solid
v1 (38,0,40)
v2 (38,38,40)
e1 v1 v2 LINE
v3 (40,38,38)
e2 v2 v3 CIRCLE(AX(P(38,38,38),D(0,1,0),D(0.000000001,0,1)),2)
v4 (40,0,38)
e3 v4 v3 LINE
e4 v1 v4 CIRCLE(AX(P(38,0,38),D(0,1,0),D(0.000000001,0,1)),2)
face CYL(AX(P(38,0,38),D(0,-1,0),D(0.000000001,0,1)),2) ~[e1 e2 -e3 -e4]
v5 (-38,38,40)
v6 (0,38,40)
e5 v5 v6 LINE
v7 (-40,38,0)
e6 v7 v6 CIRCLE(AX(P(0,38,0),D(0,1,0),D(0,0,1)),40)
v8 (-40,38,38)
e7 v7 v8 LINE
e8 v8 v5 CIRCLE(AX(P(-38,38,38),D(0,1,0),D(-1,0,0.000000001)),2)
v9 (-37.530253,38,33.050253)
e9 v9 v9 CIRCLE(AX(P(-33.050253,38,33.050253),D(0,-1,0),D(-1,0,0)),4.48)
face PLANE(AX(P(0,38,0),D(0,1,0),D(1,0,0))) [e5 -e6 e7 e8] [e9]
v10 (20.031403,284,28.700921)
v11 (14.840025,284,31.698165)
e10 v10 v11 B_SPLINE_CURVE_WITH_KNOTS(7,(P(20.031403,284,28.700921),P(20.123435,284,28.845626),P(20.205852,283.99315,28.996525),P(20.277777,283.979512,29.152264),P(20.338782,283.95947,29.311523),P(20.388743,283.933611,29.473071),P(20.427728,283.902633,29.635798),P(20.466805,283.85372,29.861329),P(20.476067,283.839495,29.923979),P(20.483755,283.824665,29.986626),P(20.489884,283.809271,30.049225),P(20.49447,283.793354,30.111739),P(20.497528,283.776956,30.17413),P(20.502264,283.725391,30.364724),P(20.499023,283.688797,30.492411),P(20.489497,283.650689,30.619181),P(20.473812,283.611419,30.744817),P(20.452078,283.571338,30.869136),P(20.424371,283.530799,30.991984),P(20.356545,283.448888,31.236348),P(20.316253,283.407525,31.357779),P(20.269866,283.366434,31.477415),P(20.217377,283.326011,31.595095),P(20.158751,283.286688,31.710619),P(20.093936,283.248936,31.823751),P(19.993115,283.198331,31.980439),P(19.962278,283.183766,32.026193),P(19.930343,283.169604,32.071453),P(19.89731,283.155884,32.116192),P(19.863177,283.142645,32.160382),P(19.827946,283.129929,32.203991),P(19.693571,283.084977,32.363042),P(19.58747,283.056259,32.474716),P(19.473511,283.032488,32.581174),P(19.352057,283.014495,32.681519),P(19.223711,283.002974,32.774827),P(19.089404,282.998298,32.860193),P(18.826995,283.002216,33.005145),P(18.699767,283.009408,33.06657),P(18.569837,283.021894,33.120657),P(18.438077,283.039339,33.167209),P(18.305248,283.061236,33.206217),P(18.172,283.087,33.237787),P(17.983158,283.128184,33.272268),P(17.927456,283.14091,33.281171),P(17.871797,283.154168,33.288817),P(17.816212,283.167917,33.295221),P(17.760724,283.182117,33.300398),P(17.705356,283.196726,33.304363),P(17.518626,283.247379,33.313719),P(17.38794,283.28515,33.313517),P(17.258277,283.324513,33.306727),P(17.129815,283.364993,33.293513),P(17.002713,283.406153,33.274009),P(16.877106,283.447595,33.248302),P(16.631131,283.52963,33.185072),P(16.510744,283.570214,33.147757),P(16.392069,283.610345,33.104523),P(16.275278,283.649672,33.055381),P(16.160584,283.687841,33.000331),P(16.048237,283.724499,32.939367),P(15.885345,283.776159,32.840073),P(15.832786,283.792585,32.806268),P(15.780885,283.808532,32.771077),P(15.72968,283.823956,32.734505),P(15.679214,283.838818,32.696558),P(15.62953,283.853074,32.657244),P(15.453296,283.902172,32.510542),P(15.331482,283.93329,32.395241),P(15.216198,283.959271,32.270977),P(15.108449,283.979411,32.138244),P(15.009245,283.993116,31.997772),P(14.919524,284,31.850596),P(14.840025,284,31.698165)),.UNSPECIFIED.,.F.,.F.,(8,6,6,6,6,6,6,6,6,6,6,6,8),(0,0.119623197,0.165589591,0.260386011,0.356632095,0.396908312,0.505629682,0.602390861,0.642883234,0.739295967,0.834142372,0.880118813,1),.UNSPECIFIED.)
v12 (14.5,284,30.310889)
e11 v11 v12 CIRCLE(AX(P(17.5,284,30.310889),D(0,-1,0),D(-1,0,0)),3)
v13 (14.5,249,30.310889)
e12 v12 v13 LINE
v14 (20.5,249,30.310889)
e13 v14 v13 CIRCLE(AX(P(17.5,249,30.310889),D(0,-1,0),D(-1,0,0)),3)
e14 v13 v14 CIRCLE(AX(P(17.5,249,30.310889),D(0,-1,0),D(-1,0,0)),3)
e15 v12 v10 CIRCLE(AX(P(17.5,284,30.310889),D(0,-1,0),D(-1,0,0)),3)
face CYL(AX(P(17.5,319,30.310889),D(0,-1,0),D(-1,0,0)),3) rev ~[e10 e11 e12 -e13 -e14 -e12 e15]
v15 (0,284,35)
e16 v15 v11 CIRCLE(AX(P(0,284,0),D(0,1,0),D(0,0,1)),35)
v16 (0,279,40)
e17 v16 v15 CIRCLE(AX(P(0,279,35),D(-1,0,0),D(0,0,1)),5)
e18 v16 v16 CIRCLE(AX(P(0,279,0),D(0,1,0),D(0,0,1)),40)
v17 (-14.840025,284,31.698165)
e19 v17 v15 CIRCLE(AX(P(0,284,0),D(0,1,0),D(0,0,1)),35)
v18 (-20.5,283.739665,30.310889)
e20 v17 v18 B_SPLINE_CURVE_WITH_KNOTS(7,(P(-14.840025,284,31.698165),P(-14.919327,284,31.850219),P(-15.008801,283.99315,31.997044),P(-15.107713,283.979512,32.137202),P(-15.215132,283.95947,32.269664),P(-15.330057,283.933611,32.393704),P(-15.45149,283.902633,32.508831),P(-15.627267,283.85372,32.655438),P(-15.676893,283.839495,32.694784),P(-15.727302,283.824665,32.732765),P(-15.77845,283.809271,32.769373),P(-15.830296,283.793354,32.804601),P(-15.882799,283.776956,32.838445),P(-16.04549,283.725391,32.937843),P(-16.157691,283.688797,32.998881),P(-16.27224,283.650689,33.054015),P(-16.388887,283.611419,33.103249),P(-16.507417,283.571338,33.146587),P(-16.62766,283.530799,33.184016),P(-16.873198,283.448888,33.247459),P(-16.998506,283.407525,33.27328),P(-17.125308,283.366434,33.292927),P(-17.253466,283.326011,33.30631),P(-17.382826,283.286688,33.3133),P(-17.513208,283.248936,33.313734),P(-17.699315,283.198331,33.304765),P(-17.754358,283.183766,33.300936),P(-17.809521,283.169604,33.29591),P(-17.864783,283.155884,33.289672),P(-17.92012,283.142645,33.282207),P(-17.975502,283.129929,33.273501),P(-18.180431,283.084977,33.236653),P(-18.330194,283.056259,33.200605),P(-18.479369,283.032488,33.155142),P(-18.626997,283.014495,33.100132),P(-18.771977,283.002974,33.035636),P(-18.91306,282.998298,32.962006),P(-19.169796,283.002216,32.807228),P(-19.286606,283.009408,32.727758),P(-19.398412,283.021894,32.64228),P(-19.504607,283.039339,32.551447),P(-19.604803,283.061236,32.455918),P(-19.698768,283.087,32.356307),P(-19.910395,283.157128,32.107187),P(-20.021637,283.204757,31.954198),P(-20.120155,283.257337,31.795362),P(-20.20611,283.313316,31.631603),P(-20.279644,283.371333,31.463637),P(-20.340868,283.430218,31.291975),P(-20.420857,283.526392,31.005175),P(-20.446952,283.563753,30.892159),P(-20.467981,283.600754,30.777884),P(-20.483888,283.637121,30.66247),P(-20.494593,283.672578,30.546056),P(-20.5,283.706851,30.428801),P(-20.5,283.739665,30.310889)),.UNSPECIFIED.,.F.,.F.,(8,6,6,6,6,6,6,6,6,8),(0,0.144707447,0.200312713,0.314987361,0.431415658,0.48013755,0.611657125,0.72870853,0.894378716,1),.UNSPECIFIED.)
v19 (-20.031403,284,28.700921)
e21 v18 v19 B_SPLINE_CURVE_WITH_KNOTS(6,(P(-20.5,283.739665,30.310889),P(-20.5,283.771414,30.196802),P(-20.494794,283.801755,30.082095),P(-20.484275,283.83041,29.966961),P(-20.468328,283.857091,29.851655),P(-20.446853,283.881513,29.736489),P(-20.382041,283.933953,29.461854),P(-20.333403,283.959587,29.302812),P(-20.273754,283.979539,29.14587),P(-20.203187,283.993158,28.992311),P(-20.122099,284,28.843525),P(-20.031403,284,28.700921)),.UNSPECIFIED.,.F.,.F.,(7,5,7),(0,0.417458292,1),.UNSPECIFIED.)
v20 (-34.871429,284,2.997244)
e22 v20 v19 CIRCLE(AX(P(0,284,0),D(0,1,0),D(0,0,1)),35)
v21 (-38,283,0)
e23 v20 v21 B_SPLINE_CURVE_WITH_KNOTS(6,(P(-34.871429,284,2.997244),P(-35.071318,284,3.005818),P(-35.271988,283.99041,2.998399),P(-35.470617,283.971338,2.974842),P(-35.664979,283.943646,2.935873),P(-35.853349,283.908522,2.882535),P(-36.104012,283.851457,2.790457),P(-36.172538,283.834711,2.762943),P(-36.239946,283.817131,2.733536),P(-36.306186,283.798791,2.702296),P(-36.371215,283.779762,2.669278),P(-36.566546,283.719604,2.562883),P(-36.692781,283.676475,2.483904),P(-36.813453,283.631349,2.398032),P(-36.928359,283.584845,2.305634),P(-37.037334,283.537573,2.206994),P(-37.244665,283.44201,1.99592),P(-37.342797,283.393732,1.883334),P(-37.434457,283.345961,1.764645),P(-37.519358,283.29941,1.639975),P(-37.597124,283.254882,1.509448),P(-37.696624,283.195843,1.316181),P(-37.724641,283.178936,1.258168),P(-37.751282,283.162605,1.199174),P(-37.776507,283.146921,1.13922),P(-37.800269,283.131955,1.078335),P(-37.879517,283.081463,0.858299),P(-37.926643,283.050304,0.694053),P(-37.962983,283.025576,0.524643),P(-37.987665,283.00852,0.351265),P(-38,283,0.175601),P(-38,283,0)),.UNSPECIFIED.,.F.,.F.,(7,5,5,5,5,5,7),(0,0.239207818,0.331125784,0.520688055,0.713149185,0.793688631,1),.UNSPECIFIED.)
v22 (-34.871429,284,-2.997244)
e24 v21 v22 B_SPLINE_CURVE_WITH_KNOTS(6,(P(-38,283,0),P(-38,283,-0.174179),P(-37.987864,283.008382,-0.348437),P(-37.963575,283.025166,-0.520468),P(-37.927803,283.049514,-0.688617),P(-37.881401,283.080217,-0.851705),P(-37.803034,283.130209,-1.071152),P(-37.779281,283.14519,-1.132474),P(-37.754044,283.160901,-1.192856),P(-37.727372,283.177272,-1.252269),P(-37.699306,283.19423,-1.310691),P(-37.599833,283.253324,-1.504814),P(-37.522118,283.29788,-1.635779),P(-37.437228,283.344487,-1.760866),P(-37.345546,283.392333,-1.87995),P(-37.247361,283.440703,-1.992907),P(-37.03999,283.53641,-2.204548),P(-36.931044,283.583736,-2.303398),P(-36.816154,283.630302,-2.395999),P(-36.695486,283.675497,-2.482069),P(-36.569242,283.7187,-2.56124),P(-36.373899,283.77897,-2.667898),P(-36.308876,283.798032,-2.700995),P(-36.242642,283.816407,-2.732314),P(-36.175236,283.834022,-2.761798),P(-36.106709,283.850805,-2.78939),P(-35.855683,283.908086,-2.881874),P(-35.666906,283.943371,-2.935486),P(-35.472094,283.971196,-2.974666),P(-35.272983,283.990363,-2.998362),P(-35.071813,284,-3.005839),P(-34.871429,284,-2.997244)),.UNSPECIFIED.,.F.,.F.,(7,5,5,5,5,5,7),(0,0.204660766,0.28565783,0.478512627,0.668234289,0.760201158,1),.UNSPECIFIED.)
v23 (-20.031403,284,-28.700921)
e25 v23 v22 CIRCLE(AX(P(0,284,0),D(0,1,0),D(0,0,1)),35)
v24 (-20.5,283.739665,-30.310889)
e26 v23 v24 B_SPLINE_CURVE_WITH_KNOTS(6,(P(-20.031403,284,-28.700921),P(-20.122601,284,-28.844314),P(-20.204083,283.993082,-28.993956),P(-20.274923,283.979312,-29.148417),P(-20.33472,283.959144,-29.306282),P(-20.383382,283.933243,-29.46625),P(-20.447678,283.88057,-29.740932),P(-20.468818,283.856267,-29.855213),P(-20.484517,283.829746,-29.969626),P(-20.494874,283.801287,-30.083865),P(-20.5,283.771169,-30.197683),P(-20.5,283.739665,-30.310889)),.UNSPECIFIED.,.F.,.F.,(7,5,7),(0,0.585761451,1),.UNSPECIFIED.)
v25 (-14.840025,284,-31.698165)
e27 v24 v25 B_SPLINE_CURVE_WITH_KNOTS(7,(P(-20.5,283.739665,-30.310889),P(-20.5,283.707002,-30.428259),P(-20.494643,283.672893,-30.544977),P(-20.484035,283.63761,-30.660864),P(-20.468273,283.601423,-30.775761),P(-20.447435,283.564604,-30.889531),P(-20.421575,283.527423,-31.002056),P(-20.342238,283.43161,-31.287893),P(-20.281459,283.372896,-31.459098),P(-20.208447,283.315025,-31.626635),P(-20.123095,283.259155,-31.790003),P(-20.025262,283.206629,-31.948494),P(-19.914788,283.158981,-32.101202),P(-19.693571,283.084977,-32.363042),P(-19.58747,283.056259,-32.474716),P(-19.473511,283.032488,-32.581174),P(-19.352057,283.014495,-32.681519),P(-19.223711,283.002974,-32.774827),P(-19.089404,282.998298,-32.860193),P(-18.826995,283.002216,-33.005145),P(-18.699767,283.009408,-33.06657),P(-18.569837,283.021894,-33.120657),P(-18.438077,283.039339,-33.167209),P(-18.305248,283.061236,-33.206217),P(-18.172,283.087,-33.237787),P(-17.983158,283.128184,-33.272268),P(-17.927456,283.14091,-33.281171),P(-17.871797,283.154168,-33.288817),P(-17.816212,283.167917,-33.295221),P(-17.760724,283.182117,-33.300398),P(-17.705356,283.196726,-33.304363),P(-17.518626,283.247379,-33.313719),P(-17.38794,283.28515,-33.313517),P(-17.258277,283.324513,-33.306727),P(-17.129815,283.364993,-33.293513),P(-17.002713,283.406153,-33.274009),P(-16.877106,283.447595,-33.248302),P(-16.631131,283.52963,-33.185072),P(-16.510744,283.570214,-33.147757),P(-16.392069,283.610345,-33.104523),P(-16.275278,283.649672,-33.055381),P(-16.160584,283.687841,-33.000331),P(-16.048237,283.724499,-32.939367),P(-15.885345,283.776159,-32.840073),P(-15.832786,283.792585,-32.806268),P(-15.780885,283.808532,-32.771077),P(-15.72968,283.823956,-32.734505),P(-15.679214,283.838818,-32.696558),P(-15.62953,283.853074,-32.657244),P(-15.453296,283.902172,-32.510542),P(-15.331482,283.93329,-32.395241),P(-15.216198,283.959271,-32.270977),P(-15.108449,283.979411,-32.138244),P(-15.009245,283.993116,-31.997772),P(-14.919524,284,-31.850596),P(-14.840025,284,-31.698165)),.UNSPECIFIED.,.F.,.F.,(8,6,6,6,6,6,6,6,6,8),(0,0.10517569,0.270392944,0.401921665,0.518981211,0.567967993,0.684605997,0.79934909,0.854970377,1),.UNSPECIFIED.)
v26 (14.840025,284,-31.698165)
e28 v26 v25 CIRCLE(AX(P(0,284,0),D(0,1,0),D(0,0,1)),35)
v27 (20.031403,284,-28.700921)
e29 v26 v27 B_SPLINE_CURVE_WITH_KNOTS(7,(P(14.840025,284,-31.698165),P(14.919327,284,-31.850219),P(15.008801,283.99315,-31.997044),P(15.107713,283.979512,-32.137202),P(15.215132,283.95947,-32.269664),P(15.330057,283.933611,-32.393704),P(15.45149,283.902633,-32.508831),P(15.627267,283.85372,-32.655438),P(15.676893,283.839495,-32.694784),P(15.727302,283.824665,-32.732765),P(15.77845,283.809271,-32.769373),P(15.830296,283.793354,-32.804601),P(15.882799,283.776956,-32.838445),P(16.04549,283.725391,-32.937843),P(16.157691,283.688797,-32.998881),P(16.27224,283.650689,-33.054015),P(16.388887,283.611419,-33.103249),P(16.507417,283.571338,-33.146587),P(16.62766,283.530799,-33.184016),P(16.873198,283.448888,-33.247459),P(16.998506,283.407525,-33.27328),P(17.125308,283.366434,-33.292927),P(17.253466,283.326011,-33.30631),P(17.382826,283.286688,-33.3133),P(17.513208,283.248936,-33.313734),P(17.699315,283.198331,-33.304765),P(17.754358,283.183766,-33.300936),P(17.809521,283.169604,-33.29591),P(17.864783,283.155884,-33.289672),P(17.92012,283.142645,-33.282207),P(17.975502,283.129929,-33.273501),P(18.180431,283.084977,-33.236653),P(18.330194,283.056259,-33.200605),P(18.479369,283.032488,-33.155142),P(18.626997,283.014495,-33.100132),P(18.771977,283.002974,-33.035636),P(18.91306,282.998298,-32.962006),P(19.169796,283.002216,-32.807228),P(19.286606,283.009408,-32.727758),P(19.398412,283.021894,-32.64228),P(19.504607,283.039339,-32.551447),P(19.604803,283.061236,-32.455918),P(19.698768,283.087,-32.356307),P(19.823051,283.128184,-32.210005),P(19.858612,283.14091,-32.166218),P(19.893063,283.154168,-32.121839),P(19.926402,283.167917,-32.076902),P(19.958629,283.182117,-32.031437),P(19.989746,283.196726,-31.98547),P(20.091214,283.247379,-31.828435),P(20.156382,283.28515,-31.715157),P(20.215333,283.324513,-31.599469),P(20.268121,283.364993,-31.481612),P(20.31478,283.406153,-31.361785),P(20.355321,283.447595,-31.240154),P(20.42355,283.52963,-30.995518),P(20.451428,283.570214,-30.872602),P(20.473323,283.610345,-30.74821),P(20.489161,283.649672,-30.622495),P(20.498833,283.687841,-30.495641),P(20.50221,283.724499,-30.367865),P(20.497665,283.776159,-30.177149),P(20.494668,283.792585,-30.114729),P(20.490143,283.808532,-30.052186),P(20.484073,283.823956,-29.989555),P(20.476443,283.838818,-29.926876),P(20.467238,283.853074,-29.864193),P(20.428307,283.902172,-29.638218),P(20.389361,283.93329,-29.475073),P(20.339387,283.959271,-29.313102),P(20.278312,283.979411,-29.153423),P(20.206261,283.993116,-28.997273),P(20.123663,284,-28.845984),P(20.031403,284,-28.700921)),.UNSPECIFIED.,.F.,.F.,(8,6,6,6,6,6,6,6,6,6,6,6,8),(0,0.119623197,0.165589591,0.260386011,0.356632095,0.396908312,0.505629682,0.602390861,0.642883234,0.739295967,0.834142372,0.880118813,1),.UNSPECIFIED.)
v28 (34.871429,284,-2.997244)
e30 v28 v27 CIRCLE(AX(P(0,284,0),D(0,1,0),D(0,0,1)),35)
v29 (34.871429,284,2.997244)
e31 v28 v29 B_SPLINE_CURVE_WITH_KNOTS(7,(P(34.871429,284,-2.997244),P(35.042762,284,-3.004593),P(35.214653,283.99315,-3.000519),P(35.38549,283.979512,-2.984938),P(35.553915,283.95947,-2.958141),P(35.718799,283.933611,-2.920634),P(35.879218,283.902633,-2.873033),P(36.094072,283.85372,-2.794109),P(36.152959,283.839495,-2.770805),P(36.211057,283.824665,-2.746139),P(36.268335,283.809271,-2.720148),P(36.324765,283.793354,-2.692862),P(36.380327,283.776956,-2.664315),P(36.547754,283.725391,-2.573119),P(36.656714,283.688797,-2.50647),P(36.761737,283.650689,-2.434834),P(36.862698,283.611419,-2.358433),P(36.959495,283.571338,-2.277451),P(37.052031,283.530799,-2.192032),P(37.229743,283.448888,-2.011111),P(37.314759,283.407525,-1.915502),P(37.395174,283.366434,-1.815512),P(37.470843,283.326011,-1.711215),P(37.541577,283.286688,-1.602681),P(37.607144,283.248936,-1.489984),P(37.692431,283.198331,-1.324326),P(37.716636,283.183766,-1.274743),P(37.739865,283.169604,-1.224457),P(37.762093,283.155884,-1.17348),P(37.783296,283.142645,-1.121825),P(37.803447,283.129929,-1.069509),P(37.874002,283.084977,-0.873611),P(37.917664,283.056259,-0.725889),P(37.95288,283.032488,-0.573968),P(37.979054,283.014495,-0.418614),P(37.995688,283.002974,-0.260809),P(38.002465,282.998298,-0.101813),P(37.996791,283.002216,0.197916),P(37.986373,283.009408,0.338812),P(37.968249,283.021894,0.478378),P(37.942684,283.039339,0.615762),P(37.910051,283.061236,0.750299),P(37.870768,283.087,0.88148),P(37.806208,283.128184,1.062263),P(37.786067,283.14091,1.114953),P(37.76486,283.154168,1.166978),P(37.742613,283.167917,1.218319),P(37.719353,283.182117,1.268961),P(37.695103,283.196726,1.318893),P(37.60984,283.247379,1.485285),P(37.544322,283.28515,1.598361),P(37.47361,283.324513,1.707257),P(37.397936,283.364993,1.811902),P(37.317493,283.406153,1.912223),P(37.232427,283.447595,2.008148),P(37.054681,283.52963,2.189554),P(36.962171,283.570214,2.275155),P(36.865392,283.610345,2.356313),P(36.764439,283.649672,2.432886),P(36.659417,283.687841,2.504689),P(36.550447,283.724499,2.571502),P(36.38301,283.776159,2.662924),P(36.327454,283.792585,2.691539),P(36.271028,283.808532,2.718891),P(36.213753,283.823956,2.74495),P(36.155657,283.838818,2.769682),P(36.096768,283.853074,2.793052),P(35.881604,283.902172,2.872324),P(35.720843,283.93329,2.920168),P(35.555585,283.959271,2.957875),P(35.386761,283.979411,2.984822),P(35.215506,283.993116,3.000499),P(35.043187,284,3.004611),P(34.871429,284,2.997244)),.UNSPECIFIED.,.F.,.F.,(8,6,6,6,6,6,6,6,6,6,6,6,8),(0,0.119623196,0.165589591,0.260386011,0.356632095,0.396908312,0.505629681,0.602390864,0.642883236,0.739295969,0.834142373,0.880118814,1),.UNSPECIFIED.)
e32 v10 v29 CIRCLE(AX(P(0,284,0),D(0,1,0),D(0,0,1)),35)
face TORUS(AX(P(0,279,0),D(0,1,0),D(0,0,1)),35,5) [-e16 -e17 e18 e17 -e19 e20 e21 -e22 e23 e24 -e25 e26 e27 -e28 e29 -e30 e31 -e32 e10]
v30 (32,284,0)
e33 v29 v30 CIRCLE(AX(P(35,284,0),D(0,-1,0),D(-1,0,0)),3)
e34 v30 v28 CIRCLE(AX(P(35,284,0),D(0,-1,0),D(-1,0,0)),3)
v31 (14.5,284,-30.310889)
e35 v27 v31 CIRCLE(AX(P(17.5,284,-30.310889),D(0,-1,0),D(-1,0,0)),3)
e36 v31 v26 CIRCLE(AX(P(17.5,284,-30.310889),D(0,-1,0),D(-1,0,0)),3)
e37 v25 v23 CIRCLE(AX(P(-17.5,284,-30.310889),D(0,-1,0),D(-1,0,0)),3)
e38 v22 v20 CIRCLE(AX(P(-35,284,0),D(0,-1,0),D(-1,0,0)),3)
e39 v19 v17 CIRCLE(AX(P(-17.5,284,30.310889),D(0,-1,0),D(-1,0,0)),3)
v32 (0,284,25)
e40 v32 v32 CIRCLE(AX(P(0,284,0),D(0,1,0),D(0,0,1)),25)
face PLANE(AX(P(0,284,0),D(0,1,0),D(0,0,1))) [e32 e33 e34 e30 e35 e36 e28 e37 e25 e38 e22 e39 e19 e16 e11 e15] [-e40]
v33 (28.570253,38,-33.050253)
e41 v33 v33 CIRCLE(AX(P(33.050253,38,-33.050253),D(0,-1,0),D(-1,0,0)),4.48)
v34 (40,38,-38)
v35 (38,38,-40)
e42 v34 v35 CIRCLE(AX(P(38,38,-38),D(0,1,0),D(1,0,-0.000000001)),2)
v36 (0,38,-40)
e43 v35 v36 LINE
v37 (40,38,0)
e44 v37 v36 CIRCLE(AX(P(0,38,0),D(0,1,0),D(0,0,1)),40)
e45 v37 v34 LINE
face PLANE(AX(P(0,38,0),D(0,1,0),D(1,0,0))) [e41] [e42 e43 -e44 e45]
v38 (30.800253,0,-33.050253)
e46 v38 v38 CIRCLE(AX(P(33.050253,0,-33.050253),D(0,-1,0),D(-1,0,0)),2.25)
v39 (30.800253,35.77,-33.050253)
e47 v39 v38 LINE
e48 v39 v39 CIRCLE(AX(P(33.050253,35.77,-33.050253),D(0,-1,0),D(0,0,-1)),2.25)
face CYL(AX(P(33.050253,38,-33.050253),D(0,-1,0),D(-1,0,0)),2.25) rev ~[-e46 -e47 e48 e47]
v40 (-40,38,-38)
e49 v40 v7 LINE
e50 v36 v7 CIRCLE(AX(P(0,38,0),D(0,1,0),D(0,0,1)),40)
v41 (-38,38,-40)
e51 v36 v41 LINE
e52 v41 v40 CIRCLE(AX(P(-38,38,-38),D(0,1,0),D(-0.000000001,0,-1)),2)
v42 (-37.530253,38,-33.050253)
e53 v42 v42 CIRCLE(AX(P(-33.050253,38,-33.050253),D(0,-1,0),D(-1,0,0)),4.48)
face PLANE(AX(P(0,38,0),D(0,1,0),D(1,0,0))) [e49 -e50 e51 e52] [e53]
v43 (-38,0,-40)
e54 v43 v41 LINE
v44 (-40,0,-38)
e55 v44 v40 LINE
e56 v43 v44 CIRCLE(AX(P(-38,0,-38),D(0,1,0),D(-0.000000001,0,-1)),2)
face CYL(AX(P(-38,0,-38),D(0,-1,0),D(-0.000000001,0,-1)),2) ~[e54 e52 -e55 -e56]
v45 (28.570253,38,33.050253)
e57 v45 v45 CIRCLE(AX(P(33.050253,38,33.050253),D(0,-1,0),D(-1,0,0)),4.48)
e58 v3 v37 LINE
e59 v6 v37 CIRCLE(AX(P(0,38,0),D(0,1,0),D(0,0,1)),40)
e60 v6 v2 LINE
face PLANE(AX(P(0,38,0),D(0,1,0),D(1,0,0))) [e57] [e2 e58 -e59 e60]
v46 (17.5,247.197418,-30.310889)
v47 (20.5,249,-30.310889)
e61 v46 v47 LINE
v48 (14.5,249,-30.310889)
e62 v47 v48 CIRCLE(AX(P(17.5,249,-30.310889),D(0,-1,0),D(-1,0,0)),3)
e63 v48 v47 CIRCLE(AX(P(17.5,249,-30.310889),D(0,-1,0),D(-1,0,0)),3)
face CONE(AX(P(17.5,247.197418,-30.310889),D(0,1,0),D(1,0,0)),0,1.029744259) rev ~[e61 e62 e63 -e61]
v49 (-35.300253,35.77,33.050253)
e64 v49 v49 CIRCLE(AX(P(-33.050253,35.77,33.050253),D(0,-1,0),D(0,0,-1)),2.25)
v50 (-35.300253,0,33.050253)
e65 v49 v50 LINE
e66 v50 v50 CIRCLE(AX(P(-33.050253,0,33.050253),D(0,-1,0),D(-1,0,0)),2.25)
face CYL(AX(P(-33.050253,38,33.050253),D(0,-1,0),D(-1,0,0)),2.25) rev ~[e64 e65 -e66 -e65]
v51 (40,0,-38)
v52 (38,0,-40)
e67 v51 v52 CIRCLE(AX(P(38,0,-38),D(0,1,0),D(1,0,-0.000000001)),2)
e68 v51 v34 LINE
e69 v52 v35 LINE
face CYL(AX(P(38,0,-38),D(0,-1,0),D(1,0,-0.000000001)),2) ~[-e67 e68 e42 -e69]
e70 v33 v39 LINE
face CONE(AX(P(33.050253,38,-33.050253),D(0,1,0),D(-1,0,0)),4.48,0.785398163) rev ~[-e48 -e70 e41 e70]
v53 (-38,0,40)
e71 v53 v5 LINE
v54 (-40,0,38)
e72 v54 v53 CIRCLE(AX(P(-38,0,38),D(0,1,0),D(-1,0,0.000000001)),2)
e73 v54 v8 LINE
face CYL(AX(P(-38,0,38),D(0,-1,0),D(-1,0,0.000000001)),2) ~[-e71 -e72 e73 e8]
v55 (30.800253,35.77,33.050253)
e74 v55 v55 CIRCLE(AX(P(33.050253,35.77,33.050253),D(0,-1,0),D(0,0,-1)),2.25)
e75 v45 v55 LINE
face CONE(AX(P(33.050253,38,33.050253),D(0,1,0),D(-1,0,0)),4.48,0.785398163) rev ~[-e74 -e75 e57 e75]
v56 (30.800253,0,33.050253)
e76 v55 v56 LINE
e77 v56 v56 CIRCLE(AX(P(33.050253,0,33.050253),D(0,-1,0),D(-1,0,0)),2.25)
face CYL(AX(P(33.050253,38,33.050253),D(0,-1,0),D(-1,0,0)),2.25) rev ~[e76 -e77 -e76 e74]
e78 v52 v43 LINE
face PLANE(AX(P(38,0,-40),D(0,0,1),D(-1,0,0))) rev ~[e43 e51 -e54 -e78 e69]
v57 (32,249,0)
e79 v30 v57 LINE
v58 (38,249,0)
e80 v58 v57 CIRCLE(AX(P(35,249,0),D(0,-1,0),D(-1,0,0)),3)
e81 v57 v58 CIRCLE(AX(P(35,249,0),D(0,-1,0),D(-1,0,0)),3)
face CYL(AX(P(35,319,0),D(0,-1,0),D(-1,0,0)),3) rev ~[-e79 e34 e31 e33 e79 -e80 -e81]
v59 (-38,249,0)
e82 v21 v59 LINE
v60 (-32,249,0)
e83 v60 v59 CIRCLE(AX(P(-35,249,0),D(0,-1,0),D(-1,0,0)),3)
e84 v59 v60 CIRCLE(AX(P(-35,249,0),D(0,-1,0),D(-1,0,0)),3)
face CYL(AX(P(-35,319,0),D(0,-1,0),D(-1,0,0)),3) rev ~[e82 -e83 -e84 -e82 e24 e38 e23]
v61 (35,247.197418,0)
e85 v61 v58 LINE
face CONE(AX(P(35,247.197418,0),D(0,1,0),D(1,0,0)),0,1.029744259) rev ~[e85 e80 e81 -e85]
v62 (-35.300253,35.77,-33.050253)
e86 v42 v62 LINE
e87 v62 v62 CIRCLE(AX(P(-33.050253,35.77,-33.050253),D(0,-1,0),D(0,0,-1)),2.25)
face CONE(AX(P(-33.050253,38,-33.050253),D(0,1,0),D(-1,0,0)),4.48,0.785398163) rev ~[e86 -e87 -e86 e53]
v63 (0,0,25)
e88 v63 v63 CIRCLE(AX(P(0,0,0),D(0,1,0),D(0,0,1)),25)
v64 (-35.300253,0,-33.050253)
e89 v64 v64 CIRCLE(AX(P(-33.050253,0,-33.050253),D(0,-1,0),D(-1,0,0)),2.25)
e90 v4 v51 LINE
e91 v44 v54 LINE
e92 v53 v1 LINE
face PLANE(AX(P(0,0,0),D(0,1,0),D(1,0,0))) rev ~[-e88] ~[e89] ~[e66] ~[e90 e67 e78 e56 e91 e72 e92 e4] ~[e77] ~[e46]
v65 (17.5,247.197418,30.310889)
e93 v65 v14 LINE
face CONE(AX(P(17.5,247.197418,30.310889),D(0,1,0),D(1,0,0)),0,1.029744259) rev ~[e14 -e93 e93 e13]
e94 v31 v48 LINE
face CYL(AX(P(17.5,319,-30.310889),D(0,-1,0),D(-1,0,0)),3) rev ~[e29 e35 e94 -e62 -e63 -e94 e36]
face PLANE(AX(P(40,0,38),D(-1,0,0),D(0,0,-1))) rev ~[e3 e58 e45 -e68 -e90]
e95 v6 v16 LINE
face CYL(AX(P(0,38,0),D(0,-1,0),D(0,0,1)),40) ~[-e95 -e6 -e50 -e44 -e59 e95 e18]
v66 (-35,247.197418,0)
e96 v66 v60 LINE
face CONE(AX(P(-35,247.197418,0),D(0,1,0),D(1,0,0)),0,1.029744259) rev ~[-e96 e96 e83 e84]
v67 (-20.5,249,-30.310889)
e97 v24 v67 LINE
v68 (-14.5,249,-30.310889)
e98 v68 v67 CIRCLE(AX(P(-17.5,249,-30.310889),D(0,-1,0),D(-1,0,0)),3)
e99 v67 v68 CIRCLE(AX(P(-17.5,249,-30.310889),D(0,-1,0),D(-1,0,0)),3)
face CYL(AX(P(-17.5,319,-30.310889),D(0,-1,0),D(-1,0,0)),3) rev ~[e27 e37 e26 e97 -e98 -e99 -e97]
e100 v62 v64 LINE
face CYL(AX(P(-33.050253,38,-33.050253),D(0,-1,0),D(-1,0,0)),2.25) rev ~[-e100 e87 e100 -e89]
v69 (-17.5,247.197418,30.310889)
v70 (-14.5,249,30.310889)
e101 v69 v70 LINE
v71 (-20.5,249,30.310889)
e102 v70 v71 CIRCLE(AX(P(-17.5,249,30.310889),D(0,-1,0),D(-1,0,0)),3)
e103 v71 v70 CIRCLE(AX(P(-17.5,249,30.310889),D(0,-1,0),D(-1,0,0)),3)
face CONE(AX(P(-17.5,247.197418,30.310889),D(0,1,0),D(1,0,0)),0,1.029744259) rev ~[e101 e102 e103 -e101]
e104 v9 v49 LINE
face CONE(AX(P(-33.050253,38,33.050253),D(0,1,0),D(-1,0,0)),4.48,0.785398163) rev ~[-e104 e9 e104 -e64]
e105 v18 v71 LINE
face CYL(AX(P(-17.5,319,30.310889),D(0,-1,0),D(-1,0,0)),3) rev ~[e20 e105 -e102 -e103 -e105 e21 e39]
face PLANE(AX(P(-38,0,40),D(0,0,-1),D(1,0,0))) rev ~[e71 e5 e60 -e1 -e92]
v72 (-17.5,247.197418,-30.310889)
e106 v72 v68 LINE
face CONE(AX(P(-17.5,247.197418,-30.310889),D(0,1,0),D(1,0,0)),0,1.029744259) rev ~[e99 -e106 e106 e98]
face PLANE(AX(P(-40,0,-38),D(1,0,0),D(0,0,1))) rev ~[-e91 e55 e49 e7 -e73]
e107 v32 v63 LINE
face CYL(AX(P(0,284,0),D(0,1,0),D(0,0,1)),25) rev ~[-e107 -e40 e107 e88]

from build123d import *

# Parameters (mm, degrees)
DODANIE_WYCI_GNI_CIE1_DEPTH                        = 38
SZKIC2_R                                           = 40
DODANIE_WYCI_GNI_CIE2_DEPTH                        = 246
POG_BIENIE_STO_KOWE_POD_M4_WKR_T_Z_BEM_D           = 4.5
POG_BIENIE_STO_KOWE_POD_M4_WKR_T_Z_BEM_CSINK_D     = 8.96
POG_BIENIE_STO_KOWE_POD_M4_WKR_T_Z_BEM_CSINK_ANGLE = 90
SZKIC6_R                                           = 25
WYTNIJ_WYCI_GNI_CIE1_DEPTH                         = 290.579004764
ZAOKR_GLENIE1_R                                    = 5
OTWORY_USTALAJ_CE_6_0MM1_D                         = 6
OTWORY_USTALAJ_CE_6_0MM1_DEPTH                     = 35
OTWORY_USTALAJ_CE_6_0MM1_TIP                       = 1.802581857


with BuildPart() as part:
    # Szkic1 → Dodanie-wyciągnięcie1 (new body)
    with BuildSketch(Plane(origin=(0, 0, 0), x_dir=(1, 0, 0), z_dir=(0, 1, 0))):
        with BuildLine():
            Line((-38, -40), (38, -40))
            ThreePointArc((38, -40), (39.414213562, -39.414213562), (40, -38))
            Line((40, -38), (40, 38))
            ThreePointArc((40, 38), (39.414213562, 39.414213562), (38, 40))
            Line((38, 40), (-38, 40))
            ThreePointArc((-38, 40), (-39.414213562, 39.414213562), (-40, 38))
            Line((-40, 38), (-40, -38))
            ThreePointArc((-40, -38), (-39.414213562, -39.414213562), (-38, -40))
        make_face()
    extrude(amount=DODANIE_WYCI_GNI_CIE1_DEPTH)

    # Szkic2 → Dodanie-wyciągnięcie2 (add)
    with BuildSketch(Plane(origin=(0, 38, 0), x_dir=(1, 0, 0), z_dir=(0, 1, 0))):
        with Locations(Location((0, 0, 0), (0, 0, 270))):
            Circle(SZKIC2_R)
    extrude(amount=DODANIE_WYCI_GNI_CIE2_DEPTH)

    # Pogłębienie stożkowe pod M4 Wkręt z łbem stożkowym płaskim1 (through all)
    with Locations(Plane(origin=(0, 38, 0), x_dir=(1, 0, 0), z_dir=(0, 1, 0))):
        with Locations((-33.050252532, 33.050252532), (33.050252532, 33.050252532), (33.050252532, -33.050252532), (-33.050252532, -33.050252532)):
            CounterSinkHole(POG_BIENIE_STO_KOWE_POD_M4_WKR_T_Z_BEM_D / 2, POG_BIENIE_STO_KOWE_POD_M4_WKR_T_Z_BEM_CSINK_D / 2, counter_sink_angle=POG_BIENIE_STO_KOWE_POD_M4_WKR_T_Z_BEM_CSINK_ANGLE)

    # Szkic6 → Wytnij-wyciągnięcie1 (cut, through all)
    with BuildSketch(Plane(origin=(0, 284, 0), x_dir=(1, 0, 0), z_dir=(0, 1, 0))):
        with Locations(Location((0, 0, 0), (0, 0, 270))):
            Circle(SZKIC6_R)
    extrude(amount=-WYTNIJ_WYCI_GNI_CIE1_DEPTH, mode=Mode.SUBTRACT)

    # Zaokrąglenie1
    zaokr_glenie1_edges = [part.edges().sort_by_distance(p)[0] for p in [
        (0, 284, -40),
    ]]
    fillet(zaokr_glenie1_edges, radius=ZAOKR_GLENIE1_R)

    # Otwory ustalające Ø6.0mm1
    with Locations(Plane(origin=(0, 284, 0), x_dir=(1, 0, 0), z_dir=(0, 1, 0))):
        with Locations((-17.5, 30.310889132), (17.5, 30.310889132), (35, 0), (17.5, -30.310889132), (-17.5, -30.310889132), (-35, 0)):
            Hole(OTWORY_USTALAJ_CE_6_0MM1_D / 2, depth=OTWORY_USTALAJ_CE_6_0MM1_DEPTH)
            with Locations((0, 0, -(OTWORY_USTALAJ_CE_6_0MM1_DEPTH + OTWORY_USTALAJ_CE_6_0MM1_TIP / 2))):  # 118° drill point
                Cone(0, OTWORY_USTALAJ_CE_6_0MM1_D / 2, OTWORY_USTALAJ_CE_6_0MM1_TIP, mode=Mode.SUBTRACT)


solid = part.part
